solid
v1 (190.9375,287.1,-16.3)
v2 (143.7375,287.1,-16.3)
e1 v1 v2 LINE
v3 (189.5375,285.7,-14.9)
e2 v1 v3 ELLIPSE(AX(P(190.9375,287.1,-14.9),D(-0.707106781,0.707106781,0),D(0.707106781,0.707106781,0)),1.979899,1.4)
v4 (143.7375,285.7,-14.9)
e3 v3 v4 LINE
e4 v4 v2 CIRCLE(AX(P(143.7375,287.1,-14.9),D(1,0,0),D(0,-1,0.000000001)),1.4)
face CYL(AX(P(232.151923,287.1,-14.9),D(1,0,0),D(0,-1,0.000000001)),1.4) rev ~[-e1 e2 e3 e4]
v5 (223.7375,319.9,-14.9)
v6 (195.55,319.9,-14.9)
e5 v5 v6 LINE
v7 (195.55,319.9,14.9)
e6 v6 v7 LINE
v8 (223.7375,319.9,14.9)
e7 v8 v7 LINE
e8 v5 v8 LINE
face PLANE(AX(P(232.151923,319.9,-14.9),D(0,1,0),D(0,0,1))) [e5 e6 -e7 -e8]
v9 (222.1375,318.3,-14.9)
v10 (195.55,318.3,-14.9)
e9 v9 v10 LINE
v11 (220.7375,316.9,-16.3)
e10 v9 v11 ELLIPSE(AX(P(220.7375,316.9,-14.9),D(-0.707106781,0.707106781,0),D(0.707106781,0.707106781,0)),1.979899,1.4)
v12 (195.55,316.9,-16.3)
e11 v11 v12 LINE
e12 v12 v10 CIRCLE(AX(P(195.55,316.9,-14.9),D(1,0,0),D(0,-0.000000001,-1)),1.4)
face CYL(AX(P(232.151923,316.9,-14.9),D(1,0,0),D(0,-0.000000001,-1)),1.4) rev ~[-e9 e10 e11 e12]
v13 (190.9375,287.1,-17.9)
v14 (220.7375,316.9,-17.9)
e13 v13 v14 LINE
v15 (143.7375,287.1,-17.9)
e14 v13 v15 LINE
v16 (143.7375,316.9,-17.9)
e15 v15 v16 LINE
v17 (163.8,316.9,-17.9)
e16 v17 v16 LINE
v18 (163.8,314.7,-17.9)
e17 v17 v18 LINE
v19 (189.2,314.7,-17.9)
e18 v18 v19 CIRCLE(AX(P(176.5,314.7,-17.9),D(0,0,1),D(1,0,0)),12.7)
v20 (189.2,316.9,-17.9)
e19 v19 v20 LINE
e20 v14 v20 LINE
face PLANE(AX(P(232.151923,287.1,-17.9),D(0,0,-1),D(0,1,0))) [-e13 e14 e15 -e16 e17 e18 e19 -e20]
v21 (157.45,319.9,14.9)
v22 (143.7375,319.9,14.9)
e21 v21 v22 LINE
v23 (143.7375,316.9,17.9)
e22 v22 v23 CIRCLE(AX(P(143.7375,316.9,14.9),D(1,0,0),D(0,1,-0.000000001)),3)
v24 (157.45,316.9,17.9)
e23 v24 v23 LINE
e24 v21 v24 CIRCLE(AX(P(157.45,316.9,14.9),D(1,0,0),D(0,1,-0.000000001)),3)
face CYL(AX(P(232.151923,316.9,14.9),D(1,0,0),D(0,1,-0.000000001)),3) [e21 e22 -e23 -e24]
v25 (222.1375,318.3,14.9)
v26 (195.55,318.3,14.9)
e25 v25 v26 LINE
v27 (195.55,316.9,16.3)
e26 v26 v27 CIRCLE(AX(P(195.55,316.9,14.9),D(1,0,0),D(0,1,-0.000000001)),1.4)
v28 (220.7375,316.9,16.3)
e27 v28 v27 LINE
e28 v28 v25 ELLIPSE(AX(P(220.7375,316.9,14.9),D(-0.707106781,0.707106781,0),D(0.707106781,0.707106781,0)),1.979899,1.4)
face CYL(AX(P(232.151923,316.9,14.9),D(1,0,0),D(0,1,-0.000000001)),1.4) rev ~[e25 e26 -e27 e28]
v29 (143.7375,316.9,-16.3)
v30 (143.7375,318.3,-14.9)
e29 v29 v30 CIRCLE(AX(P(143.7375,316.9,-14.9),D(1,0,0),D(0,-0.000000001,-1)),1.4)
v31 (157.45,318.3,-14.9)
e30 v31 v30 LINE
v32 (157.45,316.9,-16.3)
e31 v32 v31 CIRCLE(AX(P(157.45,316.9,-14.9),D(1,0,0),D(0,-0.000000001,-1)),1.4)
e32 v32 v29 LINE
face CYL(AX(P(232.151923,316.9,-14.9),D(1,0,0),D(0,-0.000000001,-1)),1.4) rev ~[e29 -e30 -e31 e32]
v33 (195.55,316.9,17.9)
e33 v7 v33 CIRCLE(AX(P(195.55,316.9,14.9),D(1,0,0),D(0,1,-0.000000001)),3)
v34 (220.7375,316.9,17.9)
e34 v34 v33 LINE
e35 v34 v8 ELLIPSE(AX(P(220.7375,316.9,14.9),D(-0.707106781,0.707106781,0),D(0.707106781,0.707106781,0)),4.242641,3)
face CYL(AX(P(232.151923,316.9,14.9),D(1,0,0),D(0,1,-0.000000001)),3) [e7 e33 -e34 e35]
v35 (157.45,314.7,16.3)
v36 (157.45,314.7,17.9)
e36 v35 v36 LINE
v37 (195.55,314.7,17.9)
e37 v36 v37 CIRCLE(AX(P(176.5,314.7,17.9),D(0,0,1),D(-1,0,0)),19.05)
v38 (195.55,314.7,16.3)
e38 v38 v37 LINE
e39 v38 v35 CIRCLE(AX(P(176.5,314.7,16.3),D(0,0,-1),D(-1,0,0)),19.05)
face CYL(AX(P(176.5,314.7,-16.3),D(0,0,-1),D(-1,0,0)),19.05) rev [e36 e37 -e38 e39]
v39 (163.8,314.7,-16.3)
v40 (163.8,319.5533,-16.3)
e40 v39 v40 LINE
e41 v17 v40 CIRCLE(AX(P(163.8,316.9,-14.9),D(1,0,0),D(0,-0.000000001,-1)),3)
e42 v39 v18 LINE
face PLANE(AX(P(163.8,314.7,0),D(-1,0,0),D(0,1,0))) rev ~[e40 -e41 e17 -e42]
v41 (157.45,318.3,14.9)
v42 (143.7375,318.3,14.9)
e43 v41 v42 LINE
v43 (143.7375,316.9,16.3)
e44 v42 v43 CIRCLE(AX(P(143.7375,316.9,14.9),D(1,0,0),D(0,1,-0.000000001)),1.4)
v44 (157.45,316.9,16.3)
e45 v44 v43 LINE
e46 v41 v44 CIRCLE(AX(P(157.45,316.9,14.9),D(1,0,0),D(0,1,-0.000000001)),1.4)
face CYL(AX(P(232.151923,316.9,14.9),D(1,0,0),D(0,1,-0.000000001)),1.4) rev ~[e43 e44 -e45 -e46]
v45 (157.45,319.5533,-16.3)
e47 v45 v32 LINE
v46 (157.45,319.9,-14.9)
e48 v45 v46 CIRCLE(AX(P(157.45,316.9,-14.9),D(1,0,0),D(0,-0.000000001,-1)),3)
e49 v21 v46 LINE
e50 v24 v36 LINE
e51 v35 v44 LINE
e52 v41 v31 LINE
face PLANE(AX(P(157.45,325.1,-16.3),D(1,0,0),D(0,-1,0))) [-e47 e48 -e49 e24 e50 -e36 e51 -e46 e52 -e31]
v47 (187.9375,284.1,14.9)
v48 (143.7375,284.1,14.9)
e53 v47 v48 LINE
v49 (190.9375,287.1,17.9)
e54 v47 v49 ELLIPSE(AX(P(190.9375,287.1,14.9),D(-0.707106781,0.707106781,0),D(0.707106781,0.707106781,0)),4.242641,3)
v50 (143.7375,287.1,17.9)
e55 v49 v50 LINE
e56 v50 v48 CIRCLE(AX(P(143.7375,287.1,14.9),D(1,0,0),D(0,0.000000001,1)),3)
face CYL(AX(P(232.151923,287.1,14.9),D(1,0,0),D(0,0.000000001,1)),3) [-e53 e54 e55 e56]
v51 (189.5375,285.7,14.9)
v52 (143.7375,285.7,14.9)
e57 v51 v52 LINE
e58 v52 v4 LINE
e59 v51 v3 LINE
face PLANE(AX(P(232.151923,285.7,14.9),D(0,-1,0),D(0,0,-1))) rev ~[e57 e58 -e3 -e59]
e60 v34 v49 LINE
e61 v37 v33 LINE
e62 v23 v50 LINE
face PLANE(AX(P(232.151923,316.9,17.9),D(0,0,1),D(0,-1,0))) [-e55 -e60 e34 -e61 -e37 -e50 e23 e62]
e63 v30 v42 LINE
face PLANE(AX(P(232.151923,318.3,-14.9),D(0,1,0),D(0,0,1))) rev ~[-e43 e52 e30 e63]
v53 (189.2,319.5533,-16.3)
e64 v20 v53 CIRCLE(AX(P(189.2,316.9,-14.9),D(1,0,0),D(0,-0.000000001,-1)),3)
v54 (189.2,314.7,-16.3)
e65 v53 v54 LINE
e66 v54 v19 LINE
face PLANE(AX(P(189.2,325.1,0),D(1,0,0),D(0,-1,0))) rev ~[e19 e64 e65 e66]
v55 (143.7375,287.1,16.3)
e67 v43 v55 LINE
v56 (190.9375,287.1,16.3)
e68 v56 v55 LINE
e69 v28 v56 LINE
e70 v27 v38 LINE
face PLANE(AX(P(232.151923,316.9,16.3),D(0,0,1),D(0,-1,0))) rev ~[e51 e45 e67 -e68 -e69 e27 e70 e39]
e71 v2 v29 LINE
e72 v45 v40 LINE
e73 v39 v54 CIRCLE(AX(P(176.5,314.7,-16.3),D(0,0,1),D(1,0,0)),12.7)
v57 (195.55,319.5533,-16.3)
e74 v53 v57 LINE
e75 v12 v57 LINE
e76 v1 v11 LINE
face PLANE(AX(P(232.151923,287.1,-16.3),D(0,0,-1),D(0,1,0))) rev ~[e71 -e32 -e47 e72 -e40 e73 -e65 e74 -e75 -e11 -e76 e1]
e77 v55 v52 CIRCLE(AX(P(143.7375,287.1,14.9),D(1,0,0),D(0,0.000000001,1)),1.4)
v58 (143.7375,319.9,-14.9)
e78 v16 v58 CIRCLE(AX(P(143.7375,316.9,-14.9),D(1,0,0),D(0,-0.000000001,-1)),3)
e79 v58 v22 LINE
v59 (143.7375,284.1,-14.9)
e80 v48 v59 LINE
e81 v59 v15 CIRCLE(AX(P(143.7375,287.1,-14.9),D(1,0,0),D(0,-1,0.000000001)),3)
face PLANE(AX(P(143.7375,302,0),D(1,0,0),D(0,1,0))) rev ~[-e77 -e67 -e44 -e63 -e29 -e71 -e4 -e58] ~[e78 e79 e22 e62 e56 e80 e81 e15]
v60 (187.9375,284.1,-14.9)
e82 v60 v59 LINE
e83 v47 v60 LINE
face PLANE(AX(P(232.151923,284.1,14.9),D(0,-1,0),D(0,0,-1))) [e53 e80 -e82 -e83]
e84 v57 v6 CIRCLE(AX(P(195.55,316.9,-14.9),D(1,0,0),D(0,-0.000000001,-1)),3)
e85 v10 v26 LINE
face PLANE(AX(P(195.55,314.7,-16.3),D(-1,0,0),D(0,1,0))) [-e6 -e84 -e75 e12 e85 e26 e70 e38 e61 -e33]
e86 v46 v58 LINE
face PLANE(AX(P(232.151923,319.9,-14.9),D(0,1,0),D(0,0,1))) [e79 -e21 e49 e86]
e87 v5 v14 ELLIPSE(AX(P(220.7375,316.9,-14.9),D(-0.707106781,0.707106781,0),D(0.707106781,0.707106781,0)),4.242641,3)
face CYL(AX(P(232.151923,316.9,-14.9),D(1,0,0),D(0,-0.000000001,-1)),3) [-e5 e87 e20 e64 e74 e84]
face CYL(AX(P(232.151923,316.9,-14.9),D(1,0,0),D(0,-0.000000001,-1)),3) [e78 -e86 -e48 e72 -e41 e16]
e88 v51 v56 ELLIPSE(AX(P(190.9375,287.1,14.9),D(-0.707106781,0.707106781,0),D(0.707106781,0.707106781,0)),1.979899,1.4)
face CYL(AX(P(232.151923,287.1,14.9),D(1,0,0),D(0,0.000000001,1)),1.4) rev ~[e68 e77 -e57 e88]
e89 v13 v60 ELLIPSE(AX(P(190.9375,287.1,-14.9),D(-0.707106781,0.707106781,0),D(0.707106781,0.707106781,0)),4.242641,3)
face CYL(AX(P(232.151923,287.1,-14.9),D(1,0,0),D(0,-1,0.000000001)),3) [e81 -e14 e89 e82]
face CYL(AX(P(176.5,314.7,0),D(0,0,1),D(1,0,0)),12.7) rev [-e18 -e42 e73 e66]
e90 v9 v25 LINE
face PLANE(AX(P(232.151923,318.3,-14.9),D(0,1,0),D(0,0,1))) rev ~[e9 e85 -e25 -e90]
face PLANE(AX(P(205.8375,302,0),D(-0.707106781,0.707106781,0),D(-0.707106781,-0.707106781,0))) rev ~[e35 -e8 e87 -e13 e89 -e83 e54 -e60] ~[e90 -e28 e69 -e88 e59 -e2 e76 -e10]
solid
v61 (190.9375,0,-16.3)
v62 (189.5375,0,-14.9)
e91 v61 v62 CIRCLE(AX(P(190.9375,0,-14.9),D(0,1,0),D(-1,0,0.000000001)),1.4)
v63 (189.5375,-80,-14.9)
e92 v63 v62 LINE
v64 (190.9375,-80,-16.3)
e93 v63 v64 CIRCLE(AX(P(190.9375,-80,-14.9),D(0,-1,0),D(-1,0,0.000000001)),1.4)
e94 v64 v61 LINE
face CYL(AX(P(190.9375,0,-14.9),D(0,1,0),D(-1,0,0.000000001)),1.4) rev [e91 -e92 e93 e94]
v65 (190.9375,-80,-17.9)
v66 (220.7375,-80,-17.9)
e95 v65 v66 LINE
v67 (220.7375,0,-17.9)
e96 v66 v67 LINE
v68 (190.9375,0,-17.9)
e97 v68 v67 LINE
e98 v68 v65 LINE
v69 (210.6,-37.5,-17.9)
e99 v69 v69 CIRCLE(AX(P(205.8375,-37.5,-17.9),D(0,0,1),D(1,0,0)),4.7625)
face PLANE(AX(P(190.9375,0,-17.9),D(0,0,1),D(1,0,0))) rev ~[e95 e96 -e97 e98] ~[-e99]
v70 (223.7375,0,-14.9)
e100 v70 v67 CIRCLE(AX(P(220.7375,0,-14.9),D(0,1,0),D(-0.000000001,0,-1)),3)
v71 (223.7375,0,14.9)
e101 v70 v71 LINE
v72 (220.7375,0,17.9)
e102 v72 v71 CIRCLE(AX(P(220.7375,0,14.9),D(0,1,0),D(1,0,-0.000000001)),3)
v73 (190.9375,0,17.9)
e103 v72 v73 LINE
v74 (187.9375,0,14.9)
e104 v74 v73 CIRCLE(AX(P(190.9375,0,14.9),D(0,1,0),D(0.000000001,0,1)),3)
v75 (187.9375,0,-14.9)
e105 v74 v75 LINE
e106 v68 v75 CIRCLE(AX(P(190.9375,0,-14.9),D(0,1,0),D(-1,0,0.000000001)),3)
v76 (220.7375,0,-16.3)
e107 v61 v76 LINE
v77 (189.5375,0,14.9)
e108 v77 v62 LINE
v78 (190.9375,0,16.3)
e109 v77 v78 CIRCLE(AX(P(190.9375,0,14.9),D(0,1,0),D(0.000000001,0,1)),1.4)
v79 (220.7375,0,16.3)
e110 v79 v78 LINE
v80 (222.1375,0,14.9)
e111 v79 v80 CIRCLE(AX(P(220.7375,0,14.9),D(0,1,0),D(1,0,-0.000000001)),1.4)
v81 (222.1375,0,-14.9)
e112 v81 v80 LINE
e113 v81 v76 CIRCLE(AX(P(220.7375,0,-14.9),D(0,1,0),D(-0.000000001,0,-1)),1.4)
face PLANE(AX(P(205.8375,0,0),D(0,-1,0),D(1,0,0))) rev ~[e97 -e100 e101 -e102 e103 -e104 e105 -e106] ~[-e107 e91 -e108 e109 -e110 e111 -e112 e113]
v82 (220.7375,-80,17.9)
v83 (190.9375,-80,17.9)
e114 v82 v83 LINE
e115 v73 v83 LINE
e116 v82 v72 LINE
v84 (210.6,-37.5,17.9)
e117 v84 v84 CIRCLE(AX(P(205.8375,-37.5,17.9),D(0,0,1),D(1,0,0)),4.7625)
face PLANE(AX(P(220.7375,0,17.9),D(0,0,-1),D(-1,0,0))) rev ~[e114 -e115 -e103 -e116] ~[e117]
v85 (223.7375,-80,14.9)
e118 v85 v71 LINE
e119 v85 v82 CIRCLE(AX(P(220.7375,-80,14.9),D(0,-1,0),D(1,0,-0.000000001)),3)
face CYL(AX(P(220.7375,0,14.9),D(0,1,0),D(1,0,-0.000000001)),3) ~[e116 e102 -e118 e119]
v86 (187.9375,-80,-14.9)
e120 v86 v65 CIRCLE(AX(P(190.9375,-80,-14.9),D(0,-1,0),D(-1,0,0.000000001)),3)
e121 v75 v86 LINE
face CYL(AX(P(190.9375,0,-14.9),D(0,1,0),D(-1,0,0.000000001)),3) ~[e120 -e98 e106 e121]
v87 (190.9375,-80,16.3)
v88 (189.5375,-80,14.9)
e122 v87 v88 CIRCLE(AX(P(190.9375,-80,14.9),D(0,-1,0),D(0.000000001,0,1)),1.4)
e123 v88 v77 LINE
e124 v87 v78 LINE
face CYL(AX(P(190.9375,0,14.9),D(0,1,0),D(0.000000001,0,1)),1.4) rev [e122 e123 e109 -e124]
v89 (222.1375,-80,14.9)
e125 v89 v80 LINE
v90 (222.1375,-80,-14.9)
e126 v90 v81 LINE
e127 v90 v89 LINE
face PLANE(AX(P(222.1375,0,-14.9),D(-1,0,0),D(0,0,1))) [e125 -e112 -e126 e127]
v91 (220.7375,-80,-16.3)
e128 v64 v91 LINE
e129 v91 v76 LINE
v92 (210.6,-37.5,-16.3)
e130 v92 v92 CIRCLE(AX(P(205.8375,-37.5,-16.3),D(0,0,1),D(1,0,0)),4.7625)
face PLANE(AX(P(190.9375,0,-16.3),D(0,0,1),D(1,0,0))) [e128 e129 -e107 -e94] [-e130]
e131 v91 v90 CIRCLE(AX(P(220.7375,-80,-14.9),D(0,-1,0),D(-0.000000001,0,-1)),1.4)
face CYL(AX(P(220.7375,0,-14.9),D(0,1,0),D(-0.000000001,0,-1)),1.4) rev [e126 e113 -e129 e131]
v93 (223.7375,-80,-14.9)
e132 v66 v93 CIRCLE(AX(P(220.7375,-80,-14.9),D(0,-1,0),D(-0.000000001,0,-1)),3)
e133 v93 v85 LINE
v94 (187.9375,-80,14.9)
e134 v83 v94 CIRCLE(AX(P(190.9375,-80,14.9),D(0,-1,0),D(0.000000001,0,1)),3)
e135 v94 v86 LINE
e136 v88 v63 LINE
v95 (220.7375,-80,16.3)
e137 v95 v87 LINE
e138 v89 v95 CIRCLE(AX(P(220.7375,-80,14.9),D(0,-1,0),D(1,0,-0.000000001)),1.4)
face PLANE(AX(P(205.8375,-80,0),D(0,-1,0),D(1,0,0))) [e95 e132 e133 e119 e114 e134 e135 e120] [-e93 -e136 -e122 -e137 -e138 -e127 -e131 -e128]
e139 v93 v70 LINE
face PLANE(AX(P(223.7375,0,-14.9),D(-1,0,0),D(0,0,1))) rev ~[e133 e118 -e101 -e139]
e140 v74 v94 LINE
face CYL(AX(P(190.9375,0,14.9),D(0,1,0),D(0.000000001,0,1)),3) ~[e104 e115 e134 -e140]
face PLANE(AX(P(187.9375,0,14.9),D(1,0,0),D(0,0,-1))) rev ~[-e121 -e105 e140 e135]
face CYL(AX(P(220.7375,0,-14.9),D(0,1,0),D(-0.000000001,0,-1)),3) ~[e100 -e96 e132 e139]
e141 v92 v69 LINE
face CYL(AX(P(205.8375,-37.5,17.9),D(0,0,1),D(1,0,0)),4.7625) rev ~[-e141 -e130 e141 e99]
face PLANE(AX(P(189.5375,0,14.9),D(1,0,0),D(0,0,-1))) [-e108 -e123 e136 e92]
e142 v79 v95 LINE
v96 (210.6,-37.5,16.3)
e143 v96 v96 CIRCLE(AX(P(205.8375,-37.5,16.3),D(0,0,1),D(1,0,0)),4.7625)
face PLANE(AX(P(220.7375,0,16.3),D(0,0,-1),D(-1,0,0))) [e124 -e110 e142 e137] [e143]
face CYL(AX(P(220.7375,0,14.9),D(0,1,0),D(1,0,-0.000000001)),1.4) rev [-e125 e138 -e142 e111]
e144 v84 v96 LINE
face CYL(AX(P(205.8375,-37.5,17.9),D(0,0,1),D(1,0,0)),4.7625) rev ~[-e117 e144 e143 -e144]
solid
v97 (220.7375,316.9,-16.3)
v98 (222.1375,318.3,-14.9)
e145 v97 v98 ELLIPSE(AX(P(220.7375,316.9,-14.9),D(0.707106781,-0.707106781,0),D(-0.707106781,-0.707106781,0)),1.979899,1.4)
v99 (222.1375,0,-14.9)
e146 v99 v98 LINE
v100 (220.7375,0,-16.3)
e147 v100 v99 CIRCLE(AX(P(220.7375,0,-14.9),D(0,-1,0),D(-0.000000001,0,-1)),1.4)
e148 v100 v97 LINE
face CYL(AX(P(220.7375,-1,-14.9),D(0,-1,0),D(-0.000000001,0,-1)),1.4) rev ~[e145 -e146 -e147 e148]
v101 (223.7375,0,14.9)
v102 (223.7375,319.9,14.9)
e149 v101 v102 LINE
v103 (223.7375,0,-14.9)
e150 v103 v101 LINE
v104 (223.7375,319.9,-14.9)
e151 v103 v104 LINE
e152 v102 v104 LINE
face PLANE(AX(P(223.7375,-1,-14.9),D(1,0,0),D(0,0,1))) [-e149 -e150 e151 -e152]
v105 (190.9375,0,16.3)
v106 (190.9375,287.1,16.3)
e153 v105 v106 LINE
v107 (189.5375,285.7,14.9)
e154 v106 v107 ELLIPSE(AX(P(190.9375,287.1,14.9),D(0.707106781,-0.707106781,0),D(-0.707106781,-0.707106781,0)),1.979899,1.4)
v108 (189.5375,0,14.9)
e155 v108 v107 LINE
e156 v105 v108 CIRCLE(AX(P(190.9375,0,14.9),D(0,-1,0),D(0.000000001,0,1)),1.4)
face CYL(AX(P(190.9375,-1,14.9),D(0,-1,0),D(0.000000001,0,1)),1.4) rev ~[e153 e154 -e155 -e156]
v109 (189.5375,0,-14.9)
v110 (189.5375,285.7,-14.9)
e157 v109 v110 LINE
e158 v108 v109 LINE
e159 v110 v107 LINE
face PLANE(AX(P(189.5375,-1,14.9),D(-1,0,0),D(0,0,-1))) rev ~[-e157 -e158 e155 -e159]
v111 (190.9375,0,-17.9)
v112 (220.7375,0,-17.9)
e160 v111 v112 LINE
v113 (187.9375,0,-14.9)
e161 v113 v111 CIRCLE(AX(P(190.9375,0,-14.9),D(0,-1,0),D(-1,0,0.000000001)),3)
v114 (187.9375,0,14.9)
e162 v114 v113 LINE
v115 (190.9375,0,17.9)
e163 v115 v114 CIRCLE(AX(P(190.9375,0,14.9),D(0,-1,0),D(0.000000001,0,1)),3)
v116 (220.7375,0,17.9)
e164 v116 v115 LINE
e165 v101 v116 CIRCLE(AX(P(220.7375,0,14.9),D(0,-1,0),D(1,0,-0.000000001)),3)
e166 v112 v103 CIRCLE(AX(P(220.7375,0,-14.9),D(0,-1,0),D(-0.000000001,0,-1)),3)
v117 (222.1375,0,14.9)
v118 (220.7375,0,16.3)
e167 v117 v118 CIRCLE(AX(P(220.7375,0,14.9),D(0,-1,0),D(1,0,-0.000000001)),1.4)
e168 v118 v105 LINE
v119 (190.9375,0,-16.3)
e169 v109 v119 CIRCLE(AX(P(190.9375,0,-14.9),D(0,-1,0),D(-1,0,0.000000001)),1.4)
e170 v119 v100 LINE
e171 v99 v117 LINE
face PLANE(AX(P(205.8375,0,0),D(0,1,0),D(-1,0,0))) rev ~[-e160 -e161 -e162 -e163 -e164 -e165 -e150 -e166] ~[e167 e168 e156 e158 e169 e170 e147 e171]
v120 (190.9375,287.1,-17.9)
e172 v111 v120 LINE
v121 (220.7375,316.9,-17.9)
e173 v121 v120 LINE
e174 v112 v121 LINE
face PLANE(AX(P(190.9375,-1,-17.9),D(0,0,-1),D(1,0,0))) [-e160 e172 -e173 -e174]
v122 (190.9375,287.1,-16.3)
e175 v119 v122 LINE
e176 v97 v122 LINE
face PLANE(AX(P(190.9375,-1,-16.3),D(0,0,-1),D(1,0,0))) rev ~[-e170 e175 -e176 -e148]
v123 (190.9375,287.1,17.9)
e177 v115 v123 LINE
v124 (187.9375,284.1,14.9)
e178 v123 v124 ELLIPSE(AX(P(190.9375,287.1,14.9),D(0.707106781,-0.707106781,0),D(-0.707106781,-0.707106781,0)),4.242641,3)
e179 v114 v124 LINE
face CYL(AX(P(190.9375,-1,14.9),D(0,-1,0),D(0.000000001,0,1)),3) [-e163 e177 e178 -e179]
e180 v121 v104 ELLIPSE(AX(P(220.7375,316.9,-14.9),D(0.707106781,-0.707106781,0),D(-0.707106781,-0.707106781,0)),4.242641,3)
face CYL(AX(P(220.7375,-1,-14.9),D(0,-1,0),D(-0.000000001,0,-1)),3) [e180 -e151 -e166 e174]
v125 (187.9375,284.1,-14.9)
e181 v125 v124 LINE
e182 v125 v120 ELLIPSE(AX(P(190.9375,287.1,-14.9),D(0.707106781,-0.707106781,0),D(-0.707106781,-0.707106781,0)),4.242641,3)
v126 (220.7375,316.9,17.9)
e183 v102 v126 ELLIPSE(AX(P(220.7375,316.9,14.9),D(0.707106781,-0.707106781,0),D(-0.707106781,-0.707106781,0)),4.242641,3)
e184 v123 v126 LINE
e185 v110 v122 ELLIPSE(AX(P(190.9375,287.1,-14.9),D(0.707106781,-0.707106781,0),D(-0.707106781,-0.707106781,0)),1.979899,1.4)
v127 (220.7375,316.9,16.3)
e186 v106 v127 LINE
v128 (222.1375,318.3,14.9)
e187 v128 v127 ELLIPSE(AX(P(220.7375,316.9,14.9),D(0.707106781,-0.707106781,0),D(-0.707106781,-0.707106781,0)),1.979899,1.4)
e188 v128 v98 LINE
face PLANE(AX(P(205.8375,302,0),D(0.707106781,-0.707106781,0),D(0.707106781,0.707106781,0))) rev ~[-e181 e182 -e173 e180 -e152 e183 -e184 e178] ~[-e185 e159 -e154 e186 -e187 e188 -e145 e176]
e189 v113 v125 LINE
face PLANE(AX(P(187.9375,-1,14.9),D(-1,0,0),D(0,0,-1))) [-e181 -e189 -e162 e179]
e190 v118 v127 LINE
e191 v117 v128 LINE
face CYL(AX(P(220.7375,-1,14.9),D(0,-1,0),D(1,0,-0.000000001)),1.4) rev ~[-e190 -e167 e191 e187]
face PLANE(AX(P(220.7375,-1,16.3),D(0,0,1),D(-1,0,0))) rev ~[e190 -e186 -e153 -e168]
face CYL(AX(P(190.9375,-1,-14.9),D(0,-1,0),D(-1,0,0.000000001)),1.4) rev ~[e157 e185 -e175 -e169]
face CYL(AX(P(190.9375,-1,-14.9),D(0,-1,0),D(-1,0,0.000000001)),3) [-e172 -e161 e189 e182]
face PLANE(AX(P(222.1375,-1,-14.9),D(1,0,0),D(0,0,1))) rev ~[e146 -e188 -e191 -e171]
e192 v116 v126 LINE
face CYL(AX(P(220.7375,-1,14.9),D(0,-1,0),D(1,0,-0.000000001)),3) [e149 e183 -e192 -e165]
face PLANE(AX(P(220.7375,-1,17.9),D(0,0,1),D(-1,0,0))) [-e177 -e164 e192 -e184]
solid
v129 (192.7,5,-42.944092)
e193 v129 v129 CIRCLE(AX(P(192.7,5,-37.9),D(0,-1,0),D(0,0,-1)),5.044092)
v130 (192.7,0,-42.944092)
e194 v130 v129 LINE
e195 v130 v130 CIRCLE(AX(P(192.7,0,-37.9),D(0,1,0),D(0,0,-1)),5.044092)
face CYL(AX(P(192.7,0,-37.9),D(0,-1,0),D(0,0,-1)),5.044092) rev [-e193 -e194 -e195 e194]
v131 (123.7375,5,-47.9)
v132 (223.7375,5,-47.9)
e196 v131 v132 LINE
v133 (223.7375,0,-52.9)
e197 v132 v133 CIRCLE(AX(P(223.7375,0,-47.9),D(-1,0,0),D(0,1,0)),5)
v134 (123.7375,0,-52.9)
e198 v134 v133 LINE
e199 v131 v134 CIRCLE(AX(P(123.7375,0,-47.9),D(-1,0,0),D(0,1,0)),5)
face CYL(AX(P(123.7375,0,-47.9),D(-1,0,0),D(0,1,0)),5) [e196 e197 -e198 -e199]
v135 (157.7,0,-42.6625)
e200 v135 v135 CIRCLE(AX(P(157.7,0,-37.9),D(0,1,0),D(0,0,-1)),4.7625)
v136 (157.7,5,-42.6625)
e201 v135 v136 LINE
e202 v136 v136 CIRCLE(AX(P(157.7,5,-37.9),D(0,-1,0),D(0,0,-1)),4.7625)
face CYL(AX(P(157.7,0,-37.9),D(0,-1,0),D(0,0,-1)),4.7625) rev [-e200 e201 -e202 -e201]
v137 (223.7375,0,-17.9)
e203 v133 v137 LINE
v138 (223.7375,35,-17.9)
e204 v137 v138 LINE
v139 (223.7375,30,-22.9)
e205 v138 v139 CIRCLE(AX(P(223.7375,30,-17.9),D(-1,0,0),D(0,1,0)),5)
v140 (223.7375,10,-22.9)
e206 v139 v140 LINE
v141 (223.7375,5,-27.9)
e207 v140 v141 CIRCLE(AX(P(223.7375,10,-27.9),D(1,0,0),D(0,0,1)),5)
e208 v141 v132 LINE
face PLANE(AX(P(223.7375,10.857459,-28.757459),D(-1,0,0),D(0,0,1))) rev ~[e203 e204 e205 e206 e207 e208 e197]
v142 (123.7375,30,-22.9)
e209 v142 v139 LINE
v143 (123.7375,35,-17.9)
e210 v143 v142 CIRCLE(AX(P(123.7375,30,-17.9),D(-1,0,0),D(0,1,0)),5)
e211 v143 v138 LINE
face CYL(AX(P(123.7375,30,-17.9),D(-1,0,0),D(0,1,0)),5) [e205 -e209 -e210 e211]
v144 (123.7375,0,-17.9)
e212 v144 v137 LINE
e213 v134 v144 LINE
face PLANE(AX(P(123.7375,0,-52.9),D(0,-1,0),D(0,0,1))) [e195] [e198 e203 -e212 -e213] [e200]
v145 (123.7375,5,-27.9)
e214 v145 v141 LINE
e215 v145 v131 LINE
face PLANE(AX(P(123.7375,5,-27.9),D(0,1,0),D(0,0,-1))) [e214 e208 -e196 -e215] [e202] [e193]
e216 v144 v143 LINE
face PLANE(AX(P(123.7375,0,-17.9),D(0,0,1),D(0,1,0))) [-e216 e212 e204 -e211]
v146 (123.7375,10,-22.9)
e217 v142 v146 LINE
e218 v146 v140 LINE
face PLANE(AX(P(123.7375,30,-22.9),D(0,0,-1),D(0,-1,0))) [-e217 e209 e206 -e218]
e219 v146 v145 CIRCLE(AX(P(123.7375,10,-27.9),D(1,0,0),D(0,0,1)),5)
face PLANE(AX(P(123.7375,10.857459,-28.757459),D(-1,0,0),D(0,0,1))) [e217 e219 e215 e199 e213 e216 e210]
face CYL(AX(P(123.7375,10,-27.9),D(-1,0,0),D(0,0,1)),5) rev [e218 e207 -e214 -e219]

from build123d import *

# Parameters (mm, degrees)
STRUCTURAL_MEMBERMAIN_DEPTH        = 1
STRUCTURAL_MEMBERMAIN_DEPTH_BACK   = 80
STRUCTURAL_MEMBERMAIN_2_DEPTH      = 329.314422766
STRUCTURAL_MEMBERMAIN_3_DEPTH      = 88.414422766
CUT_EXTRUDETOPRAILGUIDE_DEPTH      = 391.78752399
CUT_EXTRUDETOPRAILGUIDE_DEPTH_BACK = 391.78752399
STRUCTURAL_MEMBERANGLE_DEPTH       = 100
SKETCH15_R                         = 4.7625
SKETCH15_R_2                       = 5.044092484
CUT_EXTRUDEMOUNTINGHOLES_DEPTH     = 394.945286691
CUT_EXTRUDEENLARGERAILGUIDE_START  = -16.3
CUT_EXTRUDEENLARGERAILGUIDE_DEPTH  = 34.2
SKETCH17_R                         = 4.7625
CUT_EXTRUDE1_DEPTH                 = 397.745660224


with BuildPart() as part:
    # Sketch11 → Structural MemberMain (new, two sides)
    with BuildSketch(Plane(origin=(205.8375, 0, 0), x_dir=(-1, 0, 0), z_dir=(0, 1, 0))) as structural_membermain_sk:
        with BuildLine():
            Line((-14.9, 17.9), (14.9, 17.9))
            ThreePointArc((14.9, 17.9), (17.021320344, 17.021320344), (17.9, 14.9))
            Line((17.9, 14.9), (17.9, -14.9))
            ThreePointArc((17.9, -14.9), (17.021320344, -17.021320344), (14.9, -17.9))
            Line((14.9, -17.9), (-14.9, -17.9))
            ThreePointArc((-14.9, -17.9), (-17.021320344, -17.021320344), (-17.9, -14.9))
            Line((-17.9, -14.9), (-17.9, 14.9))
            ThreePointArc((-17.9, 14.9), (-17.021320344, 17.021320344), (-14.9, 17.9))
        make_face()
        with BuildLine():
            Line((-14.9, 16.3), (14.9, 16.3))
            ThreePointArc((14.9, 16.3), (15.889949494, 15.889949494), (16.3, 14.9))
            Line((16.3, 14.9), (16.3, -14.9))
            ThreePointArc((16.3, -14.9), (15.889949494, -15.889949494), (14.9, -16.3))
            Line((14.9, -16.3), (-14.9, -16.3))
            ThreePointArc((-14.9, -16.3), (-15.889949494, -15.889949494), (-16.3, -14.9))
            Line((-16.3, -14.9), (-16.3, 14.9))
            ThreePointArc((-16.3, 14.9), (-15.889949494, 15.889949494), (-14.9, 16.3))
        make_face(mode=Mode.SUBTRACT)
    extrude(amount=STRUCTURAL_MEMBERMAIN_DEPTH)
    extrude(structural_membermain_sk.sketch, amount=-STRUCTURAL_MEMBERMAIN_DEPTH_BACK)

    # Structural MemberMain mitre 1
    split(bisect_by=Plane(origin=(205.8375, 0, 0), x_dir=(1, 0, 0), z_dir=(0, -1, 0)), keep=Keep.TOP)

    # Sketch17 → Cut-Extrude1 (cut, through all)
    with BuildSketch(Plane.XY.offset(17.9)):
        with Locations((205.8375, -37.5)):
            Circle(SKETCH17_R)
    extrude(amount=-CUT_EXTRUDE1_DEPTH, mode=Mode.SUBTRACT)


with BuildPart() as body_2:
    # Sketch11 on segment 2 (carried to segment 2) → Structural MemberMain 2 (new body)
    with BuildSketch(Plane(origin=(205.8375, -1, 0), x_dir=(-1, 0, 0), z_dir=(0, 1, 0))):
        with BuildLine():
            Line((-14.9, 17.9), (14.9, 17.9))
            ThreePointArc((14.9, 17.9), (17.021320344, 17.021320344), (17.9, 14.9))
            Line((17.9, 14.9), (17.9, -14.9))
            ThreePointArc((17.9, -14.9), (17.021320344, -17.021320344), (14.9, -17.9))
            Line((14.9, -17.9), (-14.9, -17.9))
            ThreePointArc((-14.9, -17.9), (-17.021320344, -17.021320344), (-17.9, -14.9))
            Line((-17.9, -14.9), (-17.9, 14.9))
            ThreePointArc((-17.9, 14.9), (-17.021320344, 17.021320344), (-14.9, 17.9))
        make_face()
        with BuildLine():
            Line((-14.9, 16.3), (14.9, 16.3))
            ThreePointArc((14.9, 16.3), (15.889949494, 15.889949494), (16.3, 14.9))
            Line((16.3, 14.9), (16.3, -14.9))
            ThreePointArc((16.3, -14.9), (15.889949494, -15.889949494), (14.9, -16.3))
            Line((14.9, -16.3), (-14.9, -16.3))
            ThreePointArc((-14.9, -16.3), (-15.889949494, -15.889949494), (-16.3, -14.9))
            Line((-16.3, -14.9), (-16.3, 14.9))
            ThreePointArc((-16.3, 14.9), (-15.889949494, 15.889949494), (-14.9, 16.3))
        make_face(mode=Mode.SUBTRACT)
    extrude(amount=STRUCTURAL_MEMBERMAIN_2_DEPTH)

    # Structural MemberMain 2 mitre 1
    split(bisect_by=Plane(origin=(205.8375, 0, 0), x_dir=(-1, 0, 0), z_dir=(0, 1, 0)), keep=Keep.TOP)

    # Structural MemberMain 2 mitre 2
    split(bisect_by=Plane(origin=(205.8375, 302, 0), x_dir=(0.707106781, 0.707106781, 0), z_dir=(0.707106781, -0.707106781, 0)), keep=Keep.TOP)


with BuildPart() as body_3:
    # Sketch11 on segment 3 (carried to segment 3) → Structural MemberMain 3 (new body)
    with BuildSketch(Plane(origin=(232.151922766, 302, 0), x_dir=(0, -1, 0), z_dir=(-1, 0, 0))):
        with BuildLine():
            Line((-14.9, 17.9), (14.9, 17.9))
            ThreePointArc((14.9, 17.9), (17.021320344, 17.021320344), (17.9, 14.9))
            Line((17.9, 14.9), (17.9, -14.9))
            ThreePointArc((17.9, -14.9), (17.021320344, -17.021320344), (14.9, -17.9))
            Line((14.9, -17.9), (-14.9, -17.9))
            ThreePointArc((-14.9, -17.9), (-17.021320344, -17.021320344), (-17.9, -14.9))
            Line((-17.9, -14.9), (-17.9, 14.9))
            ThreePointArc((-17.9, 14.9), (-17.021320344, 17.021320344), (-14.9, 17.9))
        make_face()
        with BuildLine():
            Line((-14.9, 16.3), (14.9, 16.3))
            ThreePointArc((14.9, 16.3), (15.889949494, 15.889949494), (16.3, 14.9))
            Line((16.3, 14.9), (16.3, -14.9))
            ThreePointArc((16.3, -14.9), (15.889949494, -15.889949494), (14.9, -16.3))
            Line((14.9, -16.3), (-14.9, -16.3))
            ThreePointArc((-14.9, -16.3), (-15.889949494, -15.889949494), (-16.3, -14.9))
            Line((-16.3, -14.9), (-16.3, 14.9))
            ThreePointArc((-16.3, 14.9), (-15.889949494, 15.889949494), (-14.9, 16.3))
        make_face(mode=Mode.SUBTRACT)
    extrude(amount=STRUCTURAL_MEMBERMAIN_3_DEPTH)

    # Structural MemberMain 3 mitre 1
    split(bisect_by=Plane(origin=(205.8375, 302, 0), x_dir=(-0.707106781, -0.707106781, 0), z_dir=(-0.707106781, 0.707106781, 0)), keep=Keep.TOP)

    # Sketch12 → Cut-ExtrudeTopRailGuide (cut, two sides)
    with BuildSketch(Plane.XY) as cut_extrudetoprailguide_sk:
        with BuildLine():
            Line((163.8, 314.7), (163.8, 325.1))
            ThreePointArc((163.8, 325.1), (176.5, 337.8), (189.2, 325.1))
            Line((189.2, 325.1), (189.2, 314.7))
            ThreePointArc((189.2, 314.7), (176.5, 302), (163.8, 314.7))
        make_face()
    extrude(amount=CUT_EXTRUDETOPRAILGUIDE_DEPTH, mode=Mode.SUBTRACT)
    extrude(cut_extrudetoprailguide_sk.sketch, amount=-CUT_EXTRUDETOPRAILGUIDE_DEPTH_BACK, mode=Mode.SUBTRACT)

    # Sketch16 → Cut-ExtrudeEnlargeRailGuide (cut)
    with BuildSketch(Plane.XY.offset(CUT_EXTRUDEENLARGERAILGUIDE_START)):
        with BuildLine():
            Line((195.55, 314.7), (195.55, 325.1))
            ThreePointArc((195.55, 325.1), (176.5, 344.15), (157.45, 325.1))
            Line((157.45, 325.1), (157.45, 314.7))
            ThreePointArc((157.45, 314.7), (176.5, 295.65), (195.55, 314.7))
        make_face()
    extrude(amount=CUT_EXTRUDEENLARGERAILGUIDE_DEPTH, mode=Mode.SUBTRACT)


with BuildPart() as body_4:
    # Sketch14 → Structural MemberAngle (new body)
    with BuildSketch(Plane(origin=(123.7375, 0, -17.9), x_dir=(0, 0, -1), z_dir=(1, 0, 0))):
        with BuildLine():
            Line((0, 0), (0, 35))
            ThreePointArc((0, 35), (3.535533906, 33.535533906), (5, 30))
            Line((5, 30), (5, 10))
            ThreePointArc((5, 10), (6.464466094, 6.464466094), (10, 5))
            Line((10, 5), (30, 5))
            ThreePointArc((30, 5), (33.535533906, 3.535533906), (35, 0))
            Line((35, 0), (0, 0))
        make_face()
    extrude(amount=STRUCTURAL_MEMBERANGLE_DEPTH)

    # Sketch15 → Cut-ExtrudeMountingHoles (cut, through all)
    with BuildSketch(Plane(origin=(0, 0, 0), x_dir=(1, 0, 0), z_dir=(0, 1, 0))):
        with Locations(Location((157.7, 37.9, 0), (0, 0, 90))):
            Circle(SKETCH15_R)
        with Locations(Location((192.7, 37.9, 0), (0, 0, 90))):
            Circle(SKETCH15_R_2)
    extrude(amount=CUT_EXTRUDEMOUNTINGHOLES_DEPTH, mode=Mode.SUBTRACT)


solid = Compound([part.part, body_2.part, body_3.part, body_4.part])
